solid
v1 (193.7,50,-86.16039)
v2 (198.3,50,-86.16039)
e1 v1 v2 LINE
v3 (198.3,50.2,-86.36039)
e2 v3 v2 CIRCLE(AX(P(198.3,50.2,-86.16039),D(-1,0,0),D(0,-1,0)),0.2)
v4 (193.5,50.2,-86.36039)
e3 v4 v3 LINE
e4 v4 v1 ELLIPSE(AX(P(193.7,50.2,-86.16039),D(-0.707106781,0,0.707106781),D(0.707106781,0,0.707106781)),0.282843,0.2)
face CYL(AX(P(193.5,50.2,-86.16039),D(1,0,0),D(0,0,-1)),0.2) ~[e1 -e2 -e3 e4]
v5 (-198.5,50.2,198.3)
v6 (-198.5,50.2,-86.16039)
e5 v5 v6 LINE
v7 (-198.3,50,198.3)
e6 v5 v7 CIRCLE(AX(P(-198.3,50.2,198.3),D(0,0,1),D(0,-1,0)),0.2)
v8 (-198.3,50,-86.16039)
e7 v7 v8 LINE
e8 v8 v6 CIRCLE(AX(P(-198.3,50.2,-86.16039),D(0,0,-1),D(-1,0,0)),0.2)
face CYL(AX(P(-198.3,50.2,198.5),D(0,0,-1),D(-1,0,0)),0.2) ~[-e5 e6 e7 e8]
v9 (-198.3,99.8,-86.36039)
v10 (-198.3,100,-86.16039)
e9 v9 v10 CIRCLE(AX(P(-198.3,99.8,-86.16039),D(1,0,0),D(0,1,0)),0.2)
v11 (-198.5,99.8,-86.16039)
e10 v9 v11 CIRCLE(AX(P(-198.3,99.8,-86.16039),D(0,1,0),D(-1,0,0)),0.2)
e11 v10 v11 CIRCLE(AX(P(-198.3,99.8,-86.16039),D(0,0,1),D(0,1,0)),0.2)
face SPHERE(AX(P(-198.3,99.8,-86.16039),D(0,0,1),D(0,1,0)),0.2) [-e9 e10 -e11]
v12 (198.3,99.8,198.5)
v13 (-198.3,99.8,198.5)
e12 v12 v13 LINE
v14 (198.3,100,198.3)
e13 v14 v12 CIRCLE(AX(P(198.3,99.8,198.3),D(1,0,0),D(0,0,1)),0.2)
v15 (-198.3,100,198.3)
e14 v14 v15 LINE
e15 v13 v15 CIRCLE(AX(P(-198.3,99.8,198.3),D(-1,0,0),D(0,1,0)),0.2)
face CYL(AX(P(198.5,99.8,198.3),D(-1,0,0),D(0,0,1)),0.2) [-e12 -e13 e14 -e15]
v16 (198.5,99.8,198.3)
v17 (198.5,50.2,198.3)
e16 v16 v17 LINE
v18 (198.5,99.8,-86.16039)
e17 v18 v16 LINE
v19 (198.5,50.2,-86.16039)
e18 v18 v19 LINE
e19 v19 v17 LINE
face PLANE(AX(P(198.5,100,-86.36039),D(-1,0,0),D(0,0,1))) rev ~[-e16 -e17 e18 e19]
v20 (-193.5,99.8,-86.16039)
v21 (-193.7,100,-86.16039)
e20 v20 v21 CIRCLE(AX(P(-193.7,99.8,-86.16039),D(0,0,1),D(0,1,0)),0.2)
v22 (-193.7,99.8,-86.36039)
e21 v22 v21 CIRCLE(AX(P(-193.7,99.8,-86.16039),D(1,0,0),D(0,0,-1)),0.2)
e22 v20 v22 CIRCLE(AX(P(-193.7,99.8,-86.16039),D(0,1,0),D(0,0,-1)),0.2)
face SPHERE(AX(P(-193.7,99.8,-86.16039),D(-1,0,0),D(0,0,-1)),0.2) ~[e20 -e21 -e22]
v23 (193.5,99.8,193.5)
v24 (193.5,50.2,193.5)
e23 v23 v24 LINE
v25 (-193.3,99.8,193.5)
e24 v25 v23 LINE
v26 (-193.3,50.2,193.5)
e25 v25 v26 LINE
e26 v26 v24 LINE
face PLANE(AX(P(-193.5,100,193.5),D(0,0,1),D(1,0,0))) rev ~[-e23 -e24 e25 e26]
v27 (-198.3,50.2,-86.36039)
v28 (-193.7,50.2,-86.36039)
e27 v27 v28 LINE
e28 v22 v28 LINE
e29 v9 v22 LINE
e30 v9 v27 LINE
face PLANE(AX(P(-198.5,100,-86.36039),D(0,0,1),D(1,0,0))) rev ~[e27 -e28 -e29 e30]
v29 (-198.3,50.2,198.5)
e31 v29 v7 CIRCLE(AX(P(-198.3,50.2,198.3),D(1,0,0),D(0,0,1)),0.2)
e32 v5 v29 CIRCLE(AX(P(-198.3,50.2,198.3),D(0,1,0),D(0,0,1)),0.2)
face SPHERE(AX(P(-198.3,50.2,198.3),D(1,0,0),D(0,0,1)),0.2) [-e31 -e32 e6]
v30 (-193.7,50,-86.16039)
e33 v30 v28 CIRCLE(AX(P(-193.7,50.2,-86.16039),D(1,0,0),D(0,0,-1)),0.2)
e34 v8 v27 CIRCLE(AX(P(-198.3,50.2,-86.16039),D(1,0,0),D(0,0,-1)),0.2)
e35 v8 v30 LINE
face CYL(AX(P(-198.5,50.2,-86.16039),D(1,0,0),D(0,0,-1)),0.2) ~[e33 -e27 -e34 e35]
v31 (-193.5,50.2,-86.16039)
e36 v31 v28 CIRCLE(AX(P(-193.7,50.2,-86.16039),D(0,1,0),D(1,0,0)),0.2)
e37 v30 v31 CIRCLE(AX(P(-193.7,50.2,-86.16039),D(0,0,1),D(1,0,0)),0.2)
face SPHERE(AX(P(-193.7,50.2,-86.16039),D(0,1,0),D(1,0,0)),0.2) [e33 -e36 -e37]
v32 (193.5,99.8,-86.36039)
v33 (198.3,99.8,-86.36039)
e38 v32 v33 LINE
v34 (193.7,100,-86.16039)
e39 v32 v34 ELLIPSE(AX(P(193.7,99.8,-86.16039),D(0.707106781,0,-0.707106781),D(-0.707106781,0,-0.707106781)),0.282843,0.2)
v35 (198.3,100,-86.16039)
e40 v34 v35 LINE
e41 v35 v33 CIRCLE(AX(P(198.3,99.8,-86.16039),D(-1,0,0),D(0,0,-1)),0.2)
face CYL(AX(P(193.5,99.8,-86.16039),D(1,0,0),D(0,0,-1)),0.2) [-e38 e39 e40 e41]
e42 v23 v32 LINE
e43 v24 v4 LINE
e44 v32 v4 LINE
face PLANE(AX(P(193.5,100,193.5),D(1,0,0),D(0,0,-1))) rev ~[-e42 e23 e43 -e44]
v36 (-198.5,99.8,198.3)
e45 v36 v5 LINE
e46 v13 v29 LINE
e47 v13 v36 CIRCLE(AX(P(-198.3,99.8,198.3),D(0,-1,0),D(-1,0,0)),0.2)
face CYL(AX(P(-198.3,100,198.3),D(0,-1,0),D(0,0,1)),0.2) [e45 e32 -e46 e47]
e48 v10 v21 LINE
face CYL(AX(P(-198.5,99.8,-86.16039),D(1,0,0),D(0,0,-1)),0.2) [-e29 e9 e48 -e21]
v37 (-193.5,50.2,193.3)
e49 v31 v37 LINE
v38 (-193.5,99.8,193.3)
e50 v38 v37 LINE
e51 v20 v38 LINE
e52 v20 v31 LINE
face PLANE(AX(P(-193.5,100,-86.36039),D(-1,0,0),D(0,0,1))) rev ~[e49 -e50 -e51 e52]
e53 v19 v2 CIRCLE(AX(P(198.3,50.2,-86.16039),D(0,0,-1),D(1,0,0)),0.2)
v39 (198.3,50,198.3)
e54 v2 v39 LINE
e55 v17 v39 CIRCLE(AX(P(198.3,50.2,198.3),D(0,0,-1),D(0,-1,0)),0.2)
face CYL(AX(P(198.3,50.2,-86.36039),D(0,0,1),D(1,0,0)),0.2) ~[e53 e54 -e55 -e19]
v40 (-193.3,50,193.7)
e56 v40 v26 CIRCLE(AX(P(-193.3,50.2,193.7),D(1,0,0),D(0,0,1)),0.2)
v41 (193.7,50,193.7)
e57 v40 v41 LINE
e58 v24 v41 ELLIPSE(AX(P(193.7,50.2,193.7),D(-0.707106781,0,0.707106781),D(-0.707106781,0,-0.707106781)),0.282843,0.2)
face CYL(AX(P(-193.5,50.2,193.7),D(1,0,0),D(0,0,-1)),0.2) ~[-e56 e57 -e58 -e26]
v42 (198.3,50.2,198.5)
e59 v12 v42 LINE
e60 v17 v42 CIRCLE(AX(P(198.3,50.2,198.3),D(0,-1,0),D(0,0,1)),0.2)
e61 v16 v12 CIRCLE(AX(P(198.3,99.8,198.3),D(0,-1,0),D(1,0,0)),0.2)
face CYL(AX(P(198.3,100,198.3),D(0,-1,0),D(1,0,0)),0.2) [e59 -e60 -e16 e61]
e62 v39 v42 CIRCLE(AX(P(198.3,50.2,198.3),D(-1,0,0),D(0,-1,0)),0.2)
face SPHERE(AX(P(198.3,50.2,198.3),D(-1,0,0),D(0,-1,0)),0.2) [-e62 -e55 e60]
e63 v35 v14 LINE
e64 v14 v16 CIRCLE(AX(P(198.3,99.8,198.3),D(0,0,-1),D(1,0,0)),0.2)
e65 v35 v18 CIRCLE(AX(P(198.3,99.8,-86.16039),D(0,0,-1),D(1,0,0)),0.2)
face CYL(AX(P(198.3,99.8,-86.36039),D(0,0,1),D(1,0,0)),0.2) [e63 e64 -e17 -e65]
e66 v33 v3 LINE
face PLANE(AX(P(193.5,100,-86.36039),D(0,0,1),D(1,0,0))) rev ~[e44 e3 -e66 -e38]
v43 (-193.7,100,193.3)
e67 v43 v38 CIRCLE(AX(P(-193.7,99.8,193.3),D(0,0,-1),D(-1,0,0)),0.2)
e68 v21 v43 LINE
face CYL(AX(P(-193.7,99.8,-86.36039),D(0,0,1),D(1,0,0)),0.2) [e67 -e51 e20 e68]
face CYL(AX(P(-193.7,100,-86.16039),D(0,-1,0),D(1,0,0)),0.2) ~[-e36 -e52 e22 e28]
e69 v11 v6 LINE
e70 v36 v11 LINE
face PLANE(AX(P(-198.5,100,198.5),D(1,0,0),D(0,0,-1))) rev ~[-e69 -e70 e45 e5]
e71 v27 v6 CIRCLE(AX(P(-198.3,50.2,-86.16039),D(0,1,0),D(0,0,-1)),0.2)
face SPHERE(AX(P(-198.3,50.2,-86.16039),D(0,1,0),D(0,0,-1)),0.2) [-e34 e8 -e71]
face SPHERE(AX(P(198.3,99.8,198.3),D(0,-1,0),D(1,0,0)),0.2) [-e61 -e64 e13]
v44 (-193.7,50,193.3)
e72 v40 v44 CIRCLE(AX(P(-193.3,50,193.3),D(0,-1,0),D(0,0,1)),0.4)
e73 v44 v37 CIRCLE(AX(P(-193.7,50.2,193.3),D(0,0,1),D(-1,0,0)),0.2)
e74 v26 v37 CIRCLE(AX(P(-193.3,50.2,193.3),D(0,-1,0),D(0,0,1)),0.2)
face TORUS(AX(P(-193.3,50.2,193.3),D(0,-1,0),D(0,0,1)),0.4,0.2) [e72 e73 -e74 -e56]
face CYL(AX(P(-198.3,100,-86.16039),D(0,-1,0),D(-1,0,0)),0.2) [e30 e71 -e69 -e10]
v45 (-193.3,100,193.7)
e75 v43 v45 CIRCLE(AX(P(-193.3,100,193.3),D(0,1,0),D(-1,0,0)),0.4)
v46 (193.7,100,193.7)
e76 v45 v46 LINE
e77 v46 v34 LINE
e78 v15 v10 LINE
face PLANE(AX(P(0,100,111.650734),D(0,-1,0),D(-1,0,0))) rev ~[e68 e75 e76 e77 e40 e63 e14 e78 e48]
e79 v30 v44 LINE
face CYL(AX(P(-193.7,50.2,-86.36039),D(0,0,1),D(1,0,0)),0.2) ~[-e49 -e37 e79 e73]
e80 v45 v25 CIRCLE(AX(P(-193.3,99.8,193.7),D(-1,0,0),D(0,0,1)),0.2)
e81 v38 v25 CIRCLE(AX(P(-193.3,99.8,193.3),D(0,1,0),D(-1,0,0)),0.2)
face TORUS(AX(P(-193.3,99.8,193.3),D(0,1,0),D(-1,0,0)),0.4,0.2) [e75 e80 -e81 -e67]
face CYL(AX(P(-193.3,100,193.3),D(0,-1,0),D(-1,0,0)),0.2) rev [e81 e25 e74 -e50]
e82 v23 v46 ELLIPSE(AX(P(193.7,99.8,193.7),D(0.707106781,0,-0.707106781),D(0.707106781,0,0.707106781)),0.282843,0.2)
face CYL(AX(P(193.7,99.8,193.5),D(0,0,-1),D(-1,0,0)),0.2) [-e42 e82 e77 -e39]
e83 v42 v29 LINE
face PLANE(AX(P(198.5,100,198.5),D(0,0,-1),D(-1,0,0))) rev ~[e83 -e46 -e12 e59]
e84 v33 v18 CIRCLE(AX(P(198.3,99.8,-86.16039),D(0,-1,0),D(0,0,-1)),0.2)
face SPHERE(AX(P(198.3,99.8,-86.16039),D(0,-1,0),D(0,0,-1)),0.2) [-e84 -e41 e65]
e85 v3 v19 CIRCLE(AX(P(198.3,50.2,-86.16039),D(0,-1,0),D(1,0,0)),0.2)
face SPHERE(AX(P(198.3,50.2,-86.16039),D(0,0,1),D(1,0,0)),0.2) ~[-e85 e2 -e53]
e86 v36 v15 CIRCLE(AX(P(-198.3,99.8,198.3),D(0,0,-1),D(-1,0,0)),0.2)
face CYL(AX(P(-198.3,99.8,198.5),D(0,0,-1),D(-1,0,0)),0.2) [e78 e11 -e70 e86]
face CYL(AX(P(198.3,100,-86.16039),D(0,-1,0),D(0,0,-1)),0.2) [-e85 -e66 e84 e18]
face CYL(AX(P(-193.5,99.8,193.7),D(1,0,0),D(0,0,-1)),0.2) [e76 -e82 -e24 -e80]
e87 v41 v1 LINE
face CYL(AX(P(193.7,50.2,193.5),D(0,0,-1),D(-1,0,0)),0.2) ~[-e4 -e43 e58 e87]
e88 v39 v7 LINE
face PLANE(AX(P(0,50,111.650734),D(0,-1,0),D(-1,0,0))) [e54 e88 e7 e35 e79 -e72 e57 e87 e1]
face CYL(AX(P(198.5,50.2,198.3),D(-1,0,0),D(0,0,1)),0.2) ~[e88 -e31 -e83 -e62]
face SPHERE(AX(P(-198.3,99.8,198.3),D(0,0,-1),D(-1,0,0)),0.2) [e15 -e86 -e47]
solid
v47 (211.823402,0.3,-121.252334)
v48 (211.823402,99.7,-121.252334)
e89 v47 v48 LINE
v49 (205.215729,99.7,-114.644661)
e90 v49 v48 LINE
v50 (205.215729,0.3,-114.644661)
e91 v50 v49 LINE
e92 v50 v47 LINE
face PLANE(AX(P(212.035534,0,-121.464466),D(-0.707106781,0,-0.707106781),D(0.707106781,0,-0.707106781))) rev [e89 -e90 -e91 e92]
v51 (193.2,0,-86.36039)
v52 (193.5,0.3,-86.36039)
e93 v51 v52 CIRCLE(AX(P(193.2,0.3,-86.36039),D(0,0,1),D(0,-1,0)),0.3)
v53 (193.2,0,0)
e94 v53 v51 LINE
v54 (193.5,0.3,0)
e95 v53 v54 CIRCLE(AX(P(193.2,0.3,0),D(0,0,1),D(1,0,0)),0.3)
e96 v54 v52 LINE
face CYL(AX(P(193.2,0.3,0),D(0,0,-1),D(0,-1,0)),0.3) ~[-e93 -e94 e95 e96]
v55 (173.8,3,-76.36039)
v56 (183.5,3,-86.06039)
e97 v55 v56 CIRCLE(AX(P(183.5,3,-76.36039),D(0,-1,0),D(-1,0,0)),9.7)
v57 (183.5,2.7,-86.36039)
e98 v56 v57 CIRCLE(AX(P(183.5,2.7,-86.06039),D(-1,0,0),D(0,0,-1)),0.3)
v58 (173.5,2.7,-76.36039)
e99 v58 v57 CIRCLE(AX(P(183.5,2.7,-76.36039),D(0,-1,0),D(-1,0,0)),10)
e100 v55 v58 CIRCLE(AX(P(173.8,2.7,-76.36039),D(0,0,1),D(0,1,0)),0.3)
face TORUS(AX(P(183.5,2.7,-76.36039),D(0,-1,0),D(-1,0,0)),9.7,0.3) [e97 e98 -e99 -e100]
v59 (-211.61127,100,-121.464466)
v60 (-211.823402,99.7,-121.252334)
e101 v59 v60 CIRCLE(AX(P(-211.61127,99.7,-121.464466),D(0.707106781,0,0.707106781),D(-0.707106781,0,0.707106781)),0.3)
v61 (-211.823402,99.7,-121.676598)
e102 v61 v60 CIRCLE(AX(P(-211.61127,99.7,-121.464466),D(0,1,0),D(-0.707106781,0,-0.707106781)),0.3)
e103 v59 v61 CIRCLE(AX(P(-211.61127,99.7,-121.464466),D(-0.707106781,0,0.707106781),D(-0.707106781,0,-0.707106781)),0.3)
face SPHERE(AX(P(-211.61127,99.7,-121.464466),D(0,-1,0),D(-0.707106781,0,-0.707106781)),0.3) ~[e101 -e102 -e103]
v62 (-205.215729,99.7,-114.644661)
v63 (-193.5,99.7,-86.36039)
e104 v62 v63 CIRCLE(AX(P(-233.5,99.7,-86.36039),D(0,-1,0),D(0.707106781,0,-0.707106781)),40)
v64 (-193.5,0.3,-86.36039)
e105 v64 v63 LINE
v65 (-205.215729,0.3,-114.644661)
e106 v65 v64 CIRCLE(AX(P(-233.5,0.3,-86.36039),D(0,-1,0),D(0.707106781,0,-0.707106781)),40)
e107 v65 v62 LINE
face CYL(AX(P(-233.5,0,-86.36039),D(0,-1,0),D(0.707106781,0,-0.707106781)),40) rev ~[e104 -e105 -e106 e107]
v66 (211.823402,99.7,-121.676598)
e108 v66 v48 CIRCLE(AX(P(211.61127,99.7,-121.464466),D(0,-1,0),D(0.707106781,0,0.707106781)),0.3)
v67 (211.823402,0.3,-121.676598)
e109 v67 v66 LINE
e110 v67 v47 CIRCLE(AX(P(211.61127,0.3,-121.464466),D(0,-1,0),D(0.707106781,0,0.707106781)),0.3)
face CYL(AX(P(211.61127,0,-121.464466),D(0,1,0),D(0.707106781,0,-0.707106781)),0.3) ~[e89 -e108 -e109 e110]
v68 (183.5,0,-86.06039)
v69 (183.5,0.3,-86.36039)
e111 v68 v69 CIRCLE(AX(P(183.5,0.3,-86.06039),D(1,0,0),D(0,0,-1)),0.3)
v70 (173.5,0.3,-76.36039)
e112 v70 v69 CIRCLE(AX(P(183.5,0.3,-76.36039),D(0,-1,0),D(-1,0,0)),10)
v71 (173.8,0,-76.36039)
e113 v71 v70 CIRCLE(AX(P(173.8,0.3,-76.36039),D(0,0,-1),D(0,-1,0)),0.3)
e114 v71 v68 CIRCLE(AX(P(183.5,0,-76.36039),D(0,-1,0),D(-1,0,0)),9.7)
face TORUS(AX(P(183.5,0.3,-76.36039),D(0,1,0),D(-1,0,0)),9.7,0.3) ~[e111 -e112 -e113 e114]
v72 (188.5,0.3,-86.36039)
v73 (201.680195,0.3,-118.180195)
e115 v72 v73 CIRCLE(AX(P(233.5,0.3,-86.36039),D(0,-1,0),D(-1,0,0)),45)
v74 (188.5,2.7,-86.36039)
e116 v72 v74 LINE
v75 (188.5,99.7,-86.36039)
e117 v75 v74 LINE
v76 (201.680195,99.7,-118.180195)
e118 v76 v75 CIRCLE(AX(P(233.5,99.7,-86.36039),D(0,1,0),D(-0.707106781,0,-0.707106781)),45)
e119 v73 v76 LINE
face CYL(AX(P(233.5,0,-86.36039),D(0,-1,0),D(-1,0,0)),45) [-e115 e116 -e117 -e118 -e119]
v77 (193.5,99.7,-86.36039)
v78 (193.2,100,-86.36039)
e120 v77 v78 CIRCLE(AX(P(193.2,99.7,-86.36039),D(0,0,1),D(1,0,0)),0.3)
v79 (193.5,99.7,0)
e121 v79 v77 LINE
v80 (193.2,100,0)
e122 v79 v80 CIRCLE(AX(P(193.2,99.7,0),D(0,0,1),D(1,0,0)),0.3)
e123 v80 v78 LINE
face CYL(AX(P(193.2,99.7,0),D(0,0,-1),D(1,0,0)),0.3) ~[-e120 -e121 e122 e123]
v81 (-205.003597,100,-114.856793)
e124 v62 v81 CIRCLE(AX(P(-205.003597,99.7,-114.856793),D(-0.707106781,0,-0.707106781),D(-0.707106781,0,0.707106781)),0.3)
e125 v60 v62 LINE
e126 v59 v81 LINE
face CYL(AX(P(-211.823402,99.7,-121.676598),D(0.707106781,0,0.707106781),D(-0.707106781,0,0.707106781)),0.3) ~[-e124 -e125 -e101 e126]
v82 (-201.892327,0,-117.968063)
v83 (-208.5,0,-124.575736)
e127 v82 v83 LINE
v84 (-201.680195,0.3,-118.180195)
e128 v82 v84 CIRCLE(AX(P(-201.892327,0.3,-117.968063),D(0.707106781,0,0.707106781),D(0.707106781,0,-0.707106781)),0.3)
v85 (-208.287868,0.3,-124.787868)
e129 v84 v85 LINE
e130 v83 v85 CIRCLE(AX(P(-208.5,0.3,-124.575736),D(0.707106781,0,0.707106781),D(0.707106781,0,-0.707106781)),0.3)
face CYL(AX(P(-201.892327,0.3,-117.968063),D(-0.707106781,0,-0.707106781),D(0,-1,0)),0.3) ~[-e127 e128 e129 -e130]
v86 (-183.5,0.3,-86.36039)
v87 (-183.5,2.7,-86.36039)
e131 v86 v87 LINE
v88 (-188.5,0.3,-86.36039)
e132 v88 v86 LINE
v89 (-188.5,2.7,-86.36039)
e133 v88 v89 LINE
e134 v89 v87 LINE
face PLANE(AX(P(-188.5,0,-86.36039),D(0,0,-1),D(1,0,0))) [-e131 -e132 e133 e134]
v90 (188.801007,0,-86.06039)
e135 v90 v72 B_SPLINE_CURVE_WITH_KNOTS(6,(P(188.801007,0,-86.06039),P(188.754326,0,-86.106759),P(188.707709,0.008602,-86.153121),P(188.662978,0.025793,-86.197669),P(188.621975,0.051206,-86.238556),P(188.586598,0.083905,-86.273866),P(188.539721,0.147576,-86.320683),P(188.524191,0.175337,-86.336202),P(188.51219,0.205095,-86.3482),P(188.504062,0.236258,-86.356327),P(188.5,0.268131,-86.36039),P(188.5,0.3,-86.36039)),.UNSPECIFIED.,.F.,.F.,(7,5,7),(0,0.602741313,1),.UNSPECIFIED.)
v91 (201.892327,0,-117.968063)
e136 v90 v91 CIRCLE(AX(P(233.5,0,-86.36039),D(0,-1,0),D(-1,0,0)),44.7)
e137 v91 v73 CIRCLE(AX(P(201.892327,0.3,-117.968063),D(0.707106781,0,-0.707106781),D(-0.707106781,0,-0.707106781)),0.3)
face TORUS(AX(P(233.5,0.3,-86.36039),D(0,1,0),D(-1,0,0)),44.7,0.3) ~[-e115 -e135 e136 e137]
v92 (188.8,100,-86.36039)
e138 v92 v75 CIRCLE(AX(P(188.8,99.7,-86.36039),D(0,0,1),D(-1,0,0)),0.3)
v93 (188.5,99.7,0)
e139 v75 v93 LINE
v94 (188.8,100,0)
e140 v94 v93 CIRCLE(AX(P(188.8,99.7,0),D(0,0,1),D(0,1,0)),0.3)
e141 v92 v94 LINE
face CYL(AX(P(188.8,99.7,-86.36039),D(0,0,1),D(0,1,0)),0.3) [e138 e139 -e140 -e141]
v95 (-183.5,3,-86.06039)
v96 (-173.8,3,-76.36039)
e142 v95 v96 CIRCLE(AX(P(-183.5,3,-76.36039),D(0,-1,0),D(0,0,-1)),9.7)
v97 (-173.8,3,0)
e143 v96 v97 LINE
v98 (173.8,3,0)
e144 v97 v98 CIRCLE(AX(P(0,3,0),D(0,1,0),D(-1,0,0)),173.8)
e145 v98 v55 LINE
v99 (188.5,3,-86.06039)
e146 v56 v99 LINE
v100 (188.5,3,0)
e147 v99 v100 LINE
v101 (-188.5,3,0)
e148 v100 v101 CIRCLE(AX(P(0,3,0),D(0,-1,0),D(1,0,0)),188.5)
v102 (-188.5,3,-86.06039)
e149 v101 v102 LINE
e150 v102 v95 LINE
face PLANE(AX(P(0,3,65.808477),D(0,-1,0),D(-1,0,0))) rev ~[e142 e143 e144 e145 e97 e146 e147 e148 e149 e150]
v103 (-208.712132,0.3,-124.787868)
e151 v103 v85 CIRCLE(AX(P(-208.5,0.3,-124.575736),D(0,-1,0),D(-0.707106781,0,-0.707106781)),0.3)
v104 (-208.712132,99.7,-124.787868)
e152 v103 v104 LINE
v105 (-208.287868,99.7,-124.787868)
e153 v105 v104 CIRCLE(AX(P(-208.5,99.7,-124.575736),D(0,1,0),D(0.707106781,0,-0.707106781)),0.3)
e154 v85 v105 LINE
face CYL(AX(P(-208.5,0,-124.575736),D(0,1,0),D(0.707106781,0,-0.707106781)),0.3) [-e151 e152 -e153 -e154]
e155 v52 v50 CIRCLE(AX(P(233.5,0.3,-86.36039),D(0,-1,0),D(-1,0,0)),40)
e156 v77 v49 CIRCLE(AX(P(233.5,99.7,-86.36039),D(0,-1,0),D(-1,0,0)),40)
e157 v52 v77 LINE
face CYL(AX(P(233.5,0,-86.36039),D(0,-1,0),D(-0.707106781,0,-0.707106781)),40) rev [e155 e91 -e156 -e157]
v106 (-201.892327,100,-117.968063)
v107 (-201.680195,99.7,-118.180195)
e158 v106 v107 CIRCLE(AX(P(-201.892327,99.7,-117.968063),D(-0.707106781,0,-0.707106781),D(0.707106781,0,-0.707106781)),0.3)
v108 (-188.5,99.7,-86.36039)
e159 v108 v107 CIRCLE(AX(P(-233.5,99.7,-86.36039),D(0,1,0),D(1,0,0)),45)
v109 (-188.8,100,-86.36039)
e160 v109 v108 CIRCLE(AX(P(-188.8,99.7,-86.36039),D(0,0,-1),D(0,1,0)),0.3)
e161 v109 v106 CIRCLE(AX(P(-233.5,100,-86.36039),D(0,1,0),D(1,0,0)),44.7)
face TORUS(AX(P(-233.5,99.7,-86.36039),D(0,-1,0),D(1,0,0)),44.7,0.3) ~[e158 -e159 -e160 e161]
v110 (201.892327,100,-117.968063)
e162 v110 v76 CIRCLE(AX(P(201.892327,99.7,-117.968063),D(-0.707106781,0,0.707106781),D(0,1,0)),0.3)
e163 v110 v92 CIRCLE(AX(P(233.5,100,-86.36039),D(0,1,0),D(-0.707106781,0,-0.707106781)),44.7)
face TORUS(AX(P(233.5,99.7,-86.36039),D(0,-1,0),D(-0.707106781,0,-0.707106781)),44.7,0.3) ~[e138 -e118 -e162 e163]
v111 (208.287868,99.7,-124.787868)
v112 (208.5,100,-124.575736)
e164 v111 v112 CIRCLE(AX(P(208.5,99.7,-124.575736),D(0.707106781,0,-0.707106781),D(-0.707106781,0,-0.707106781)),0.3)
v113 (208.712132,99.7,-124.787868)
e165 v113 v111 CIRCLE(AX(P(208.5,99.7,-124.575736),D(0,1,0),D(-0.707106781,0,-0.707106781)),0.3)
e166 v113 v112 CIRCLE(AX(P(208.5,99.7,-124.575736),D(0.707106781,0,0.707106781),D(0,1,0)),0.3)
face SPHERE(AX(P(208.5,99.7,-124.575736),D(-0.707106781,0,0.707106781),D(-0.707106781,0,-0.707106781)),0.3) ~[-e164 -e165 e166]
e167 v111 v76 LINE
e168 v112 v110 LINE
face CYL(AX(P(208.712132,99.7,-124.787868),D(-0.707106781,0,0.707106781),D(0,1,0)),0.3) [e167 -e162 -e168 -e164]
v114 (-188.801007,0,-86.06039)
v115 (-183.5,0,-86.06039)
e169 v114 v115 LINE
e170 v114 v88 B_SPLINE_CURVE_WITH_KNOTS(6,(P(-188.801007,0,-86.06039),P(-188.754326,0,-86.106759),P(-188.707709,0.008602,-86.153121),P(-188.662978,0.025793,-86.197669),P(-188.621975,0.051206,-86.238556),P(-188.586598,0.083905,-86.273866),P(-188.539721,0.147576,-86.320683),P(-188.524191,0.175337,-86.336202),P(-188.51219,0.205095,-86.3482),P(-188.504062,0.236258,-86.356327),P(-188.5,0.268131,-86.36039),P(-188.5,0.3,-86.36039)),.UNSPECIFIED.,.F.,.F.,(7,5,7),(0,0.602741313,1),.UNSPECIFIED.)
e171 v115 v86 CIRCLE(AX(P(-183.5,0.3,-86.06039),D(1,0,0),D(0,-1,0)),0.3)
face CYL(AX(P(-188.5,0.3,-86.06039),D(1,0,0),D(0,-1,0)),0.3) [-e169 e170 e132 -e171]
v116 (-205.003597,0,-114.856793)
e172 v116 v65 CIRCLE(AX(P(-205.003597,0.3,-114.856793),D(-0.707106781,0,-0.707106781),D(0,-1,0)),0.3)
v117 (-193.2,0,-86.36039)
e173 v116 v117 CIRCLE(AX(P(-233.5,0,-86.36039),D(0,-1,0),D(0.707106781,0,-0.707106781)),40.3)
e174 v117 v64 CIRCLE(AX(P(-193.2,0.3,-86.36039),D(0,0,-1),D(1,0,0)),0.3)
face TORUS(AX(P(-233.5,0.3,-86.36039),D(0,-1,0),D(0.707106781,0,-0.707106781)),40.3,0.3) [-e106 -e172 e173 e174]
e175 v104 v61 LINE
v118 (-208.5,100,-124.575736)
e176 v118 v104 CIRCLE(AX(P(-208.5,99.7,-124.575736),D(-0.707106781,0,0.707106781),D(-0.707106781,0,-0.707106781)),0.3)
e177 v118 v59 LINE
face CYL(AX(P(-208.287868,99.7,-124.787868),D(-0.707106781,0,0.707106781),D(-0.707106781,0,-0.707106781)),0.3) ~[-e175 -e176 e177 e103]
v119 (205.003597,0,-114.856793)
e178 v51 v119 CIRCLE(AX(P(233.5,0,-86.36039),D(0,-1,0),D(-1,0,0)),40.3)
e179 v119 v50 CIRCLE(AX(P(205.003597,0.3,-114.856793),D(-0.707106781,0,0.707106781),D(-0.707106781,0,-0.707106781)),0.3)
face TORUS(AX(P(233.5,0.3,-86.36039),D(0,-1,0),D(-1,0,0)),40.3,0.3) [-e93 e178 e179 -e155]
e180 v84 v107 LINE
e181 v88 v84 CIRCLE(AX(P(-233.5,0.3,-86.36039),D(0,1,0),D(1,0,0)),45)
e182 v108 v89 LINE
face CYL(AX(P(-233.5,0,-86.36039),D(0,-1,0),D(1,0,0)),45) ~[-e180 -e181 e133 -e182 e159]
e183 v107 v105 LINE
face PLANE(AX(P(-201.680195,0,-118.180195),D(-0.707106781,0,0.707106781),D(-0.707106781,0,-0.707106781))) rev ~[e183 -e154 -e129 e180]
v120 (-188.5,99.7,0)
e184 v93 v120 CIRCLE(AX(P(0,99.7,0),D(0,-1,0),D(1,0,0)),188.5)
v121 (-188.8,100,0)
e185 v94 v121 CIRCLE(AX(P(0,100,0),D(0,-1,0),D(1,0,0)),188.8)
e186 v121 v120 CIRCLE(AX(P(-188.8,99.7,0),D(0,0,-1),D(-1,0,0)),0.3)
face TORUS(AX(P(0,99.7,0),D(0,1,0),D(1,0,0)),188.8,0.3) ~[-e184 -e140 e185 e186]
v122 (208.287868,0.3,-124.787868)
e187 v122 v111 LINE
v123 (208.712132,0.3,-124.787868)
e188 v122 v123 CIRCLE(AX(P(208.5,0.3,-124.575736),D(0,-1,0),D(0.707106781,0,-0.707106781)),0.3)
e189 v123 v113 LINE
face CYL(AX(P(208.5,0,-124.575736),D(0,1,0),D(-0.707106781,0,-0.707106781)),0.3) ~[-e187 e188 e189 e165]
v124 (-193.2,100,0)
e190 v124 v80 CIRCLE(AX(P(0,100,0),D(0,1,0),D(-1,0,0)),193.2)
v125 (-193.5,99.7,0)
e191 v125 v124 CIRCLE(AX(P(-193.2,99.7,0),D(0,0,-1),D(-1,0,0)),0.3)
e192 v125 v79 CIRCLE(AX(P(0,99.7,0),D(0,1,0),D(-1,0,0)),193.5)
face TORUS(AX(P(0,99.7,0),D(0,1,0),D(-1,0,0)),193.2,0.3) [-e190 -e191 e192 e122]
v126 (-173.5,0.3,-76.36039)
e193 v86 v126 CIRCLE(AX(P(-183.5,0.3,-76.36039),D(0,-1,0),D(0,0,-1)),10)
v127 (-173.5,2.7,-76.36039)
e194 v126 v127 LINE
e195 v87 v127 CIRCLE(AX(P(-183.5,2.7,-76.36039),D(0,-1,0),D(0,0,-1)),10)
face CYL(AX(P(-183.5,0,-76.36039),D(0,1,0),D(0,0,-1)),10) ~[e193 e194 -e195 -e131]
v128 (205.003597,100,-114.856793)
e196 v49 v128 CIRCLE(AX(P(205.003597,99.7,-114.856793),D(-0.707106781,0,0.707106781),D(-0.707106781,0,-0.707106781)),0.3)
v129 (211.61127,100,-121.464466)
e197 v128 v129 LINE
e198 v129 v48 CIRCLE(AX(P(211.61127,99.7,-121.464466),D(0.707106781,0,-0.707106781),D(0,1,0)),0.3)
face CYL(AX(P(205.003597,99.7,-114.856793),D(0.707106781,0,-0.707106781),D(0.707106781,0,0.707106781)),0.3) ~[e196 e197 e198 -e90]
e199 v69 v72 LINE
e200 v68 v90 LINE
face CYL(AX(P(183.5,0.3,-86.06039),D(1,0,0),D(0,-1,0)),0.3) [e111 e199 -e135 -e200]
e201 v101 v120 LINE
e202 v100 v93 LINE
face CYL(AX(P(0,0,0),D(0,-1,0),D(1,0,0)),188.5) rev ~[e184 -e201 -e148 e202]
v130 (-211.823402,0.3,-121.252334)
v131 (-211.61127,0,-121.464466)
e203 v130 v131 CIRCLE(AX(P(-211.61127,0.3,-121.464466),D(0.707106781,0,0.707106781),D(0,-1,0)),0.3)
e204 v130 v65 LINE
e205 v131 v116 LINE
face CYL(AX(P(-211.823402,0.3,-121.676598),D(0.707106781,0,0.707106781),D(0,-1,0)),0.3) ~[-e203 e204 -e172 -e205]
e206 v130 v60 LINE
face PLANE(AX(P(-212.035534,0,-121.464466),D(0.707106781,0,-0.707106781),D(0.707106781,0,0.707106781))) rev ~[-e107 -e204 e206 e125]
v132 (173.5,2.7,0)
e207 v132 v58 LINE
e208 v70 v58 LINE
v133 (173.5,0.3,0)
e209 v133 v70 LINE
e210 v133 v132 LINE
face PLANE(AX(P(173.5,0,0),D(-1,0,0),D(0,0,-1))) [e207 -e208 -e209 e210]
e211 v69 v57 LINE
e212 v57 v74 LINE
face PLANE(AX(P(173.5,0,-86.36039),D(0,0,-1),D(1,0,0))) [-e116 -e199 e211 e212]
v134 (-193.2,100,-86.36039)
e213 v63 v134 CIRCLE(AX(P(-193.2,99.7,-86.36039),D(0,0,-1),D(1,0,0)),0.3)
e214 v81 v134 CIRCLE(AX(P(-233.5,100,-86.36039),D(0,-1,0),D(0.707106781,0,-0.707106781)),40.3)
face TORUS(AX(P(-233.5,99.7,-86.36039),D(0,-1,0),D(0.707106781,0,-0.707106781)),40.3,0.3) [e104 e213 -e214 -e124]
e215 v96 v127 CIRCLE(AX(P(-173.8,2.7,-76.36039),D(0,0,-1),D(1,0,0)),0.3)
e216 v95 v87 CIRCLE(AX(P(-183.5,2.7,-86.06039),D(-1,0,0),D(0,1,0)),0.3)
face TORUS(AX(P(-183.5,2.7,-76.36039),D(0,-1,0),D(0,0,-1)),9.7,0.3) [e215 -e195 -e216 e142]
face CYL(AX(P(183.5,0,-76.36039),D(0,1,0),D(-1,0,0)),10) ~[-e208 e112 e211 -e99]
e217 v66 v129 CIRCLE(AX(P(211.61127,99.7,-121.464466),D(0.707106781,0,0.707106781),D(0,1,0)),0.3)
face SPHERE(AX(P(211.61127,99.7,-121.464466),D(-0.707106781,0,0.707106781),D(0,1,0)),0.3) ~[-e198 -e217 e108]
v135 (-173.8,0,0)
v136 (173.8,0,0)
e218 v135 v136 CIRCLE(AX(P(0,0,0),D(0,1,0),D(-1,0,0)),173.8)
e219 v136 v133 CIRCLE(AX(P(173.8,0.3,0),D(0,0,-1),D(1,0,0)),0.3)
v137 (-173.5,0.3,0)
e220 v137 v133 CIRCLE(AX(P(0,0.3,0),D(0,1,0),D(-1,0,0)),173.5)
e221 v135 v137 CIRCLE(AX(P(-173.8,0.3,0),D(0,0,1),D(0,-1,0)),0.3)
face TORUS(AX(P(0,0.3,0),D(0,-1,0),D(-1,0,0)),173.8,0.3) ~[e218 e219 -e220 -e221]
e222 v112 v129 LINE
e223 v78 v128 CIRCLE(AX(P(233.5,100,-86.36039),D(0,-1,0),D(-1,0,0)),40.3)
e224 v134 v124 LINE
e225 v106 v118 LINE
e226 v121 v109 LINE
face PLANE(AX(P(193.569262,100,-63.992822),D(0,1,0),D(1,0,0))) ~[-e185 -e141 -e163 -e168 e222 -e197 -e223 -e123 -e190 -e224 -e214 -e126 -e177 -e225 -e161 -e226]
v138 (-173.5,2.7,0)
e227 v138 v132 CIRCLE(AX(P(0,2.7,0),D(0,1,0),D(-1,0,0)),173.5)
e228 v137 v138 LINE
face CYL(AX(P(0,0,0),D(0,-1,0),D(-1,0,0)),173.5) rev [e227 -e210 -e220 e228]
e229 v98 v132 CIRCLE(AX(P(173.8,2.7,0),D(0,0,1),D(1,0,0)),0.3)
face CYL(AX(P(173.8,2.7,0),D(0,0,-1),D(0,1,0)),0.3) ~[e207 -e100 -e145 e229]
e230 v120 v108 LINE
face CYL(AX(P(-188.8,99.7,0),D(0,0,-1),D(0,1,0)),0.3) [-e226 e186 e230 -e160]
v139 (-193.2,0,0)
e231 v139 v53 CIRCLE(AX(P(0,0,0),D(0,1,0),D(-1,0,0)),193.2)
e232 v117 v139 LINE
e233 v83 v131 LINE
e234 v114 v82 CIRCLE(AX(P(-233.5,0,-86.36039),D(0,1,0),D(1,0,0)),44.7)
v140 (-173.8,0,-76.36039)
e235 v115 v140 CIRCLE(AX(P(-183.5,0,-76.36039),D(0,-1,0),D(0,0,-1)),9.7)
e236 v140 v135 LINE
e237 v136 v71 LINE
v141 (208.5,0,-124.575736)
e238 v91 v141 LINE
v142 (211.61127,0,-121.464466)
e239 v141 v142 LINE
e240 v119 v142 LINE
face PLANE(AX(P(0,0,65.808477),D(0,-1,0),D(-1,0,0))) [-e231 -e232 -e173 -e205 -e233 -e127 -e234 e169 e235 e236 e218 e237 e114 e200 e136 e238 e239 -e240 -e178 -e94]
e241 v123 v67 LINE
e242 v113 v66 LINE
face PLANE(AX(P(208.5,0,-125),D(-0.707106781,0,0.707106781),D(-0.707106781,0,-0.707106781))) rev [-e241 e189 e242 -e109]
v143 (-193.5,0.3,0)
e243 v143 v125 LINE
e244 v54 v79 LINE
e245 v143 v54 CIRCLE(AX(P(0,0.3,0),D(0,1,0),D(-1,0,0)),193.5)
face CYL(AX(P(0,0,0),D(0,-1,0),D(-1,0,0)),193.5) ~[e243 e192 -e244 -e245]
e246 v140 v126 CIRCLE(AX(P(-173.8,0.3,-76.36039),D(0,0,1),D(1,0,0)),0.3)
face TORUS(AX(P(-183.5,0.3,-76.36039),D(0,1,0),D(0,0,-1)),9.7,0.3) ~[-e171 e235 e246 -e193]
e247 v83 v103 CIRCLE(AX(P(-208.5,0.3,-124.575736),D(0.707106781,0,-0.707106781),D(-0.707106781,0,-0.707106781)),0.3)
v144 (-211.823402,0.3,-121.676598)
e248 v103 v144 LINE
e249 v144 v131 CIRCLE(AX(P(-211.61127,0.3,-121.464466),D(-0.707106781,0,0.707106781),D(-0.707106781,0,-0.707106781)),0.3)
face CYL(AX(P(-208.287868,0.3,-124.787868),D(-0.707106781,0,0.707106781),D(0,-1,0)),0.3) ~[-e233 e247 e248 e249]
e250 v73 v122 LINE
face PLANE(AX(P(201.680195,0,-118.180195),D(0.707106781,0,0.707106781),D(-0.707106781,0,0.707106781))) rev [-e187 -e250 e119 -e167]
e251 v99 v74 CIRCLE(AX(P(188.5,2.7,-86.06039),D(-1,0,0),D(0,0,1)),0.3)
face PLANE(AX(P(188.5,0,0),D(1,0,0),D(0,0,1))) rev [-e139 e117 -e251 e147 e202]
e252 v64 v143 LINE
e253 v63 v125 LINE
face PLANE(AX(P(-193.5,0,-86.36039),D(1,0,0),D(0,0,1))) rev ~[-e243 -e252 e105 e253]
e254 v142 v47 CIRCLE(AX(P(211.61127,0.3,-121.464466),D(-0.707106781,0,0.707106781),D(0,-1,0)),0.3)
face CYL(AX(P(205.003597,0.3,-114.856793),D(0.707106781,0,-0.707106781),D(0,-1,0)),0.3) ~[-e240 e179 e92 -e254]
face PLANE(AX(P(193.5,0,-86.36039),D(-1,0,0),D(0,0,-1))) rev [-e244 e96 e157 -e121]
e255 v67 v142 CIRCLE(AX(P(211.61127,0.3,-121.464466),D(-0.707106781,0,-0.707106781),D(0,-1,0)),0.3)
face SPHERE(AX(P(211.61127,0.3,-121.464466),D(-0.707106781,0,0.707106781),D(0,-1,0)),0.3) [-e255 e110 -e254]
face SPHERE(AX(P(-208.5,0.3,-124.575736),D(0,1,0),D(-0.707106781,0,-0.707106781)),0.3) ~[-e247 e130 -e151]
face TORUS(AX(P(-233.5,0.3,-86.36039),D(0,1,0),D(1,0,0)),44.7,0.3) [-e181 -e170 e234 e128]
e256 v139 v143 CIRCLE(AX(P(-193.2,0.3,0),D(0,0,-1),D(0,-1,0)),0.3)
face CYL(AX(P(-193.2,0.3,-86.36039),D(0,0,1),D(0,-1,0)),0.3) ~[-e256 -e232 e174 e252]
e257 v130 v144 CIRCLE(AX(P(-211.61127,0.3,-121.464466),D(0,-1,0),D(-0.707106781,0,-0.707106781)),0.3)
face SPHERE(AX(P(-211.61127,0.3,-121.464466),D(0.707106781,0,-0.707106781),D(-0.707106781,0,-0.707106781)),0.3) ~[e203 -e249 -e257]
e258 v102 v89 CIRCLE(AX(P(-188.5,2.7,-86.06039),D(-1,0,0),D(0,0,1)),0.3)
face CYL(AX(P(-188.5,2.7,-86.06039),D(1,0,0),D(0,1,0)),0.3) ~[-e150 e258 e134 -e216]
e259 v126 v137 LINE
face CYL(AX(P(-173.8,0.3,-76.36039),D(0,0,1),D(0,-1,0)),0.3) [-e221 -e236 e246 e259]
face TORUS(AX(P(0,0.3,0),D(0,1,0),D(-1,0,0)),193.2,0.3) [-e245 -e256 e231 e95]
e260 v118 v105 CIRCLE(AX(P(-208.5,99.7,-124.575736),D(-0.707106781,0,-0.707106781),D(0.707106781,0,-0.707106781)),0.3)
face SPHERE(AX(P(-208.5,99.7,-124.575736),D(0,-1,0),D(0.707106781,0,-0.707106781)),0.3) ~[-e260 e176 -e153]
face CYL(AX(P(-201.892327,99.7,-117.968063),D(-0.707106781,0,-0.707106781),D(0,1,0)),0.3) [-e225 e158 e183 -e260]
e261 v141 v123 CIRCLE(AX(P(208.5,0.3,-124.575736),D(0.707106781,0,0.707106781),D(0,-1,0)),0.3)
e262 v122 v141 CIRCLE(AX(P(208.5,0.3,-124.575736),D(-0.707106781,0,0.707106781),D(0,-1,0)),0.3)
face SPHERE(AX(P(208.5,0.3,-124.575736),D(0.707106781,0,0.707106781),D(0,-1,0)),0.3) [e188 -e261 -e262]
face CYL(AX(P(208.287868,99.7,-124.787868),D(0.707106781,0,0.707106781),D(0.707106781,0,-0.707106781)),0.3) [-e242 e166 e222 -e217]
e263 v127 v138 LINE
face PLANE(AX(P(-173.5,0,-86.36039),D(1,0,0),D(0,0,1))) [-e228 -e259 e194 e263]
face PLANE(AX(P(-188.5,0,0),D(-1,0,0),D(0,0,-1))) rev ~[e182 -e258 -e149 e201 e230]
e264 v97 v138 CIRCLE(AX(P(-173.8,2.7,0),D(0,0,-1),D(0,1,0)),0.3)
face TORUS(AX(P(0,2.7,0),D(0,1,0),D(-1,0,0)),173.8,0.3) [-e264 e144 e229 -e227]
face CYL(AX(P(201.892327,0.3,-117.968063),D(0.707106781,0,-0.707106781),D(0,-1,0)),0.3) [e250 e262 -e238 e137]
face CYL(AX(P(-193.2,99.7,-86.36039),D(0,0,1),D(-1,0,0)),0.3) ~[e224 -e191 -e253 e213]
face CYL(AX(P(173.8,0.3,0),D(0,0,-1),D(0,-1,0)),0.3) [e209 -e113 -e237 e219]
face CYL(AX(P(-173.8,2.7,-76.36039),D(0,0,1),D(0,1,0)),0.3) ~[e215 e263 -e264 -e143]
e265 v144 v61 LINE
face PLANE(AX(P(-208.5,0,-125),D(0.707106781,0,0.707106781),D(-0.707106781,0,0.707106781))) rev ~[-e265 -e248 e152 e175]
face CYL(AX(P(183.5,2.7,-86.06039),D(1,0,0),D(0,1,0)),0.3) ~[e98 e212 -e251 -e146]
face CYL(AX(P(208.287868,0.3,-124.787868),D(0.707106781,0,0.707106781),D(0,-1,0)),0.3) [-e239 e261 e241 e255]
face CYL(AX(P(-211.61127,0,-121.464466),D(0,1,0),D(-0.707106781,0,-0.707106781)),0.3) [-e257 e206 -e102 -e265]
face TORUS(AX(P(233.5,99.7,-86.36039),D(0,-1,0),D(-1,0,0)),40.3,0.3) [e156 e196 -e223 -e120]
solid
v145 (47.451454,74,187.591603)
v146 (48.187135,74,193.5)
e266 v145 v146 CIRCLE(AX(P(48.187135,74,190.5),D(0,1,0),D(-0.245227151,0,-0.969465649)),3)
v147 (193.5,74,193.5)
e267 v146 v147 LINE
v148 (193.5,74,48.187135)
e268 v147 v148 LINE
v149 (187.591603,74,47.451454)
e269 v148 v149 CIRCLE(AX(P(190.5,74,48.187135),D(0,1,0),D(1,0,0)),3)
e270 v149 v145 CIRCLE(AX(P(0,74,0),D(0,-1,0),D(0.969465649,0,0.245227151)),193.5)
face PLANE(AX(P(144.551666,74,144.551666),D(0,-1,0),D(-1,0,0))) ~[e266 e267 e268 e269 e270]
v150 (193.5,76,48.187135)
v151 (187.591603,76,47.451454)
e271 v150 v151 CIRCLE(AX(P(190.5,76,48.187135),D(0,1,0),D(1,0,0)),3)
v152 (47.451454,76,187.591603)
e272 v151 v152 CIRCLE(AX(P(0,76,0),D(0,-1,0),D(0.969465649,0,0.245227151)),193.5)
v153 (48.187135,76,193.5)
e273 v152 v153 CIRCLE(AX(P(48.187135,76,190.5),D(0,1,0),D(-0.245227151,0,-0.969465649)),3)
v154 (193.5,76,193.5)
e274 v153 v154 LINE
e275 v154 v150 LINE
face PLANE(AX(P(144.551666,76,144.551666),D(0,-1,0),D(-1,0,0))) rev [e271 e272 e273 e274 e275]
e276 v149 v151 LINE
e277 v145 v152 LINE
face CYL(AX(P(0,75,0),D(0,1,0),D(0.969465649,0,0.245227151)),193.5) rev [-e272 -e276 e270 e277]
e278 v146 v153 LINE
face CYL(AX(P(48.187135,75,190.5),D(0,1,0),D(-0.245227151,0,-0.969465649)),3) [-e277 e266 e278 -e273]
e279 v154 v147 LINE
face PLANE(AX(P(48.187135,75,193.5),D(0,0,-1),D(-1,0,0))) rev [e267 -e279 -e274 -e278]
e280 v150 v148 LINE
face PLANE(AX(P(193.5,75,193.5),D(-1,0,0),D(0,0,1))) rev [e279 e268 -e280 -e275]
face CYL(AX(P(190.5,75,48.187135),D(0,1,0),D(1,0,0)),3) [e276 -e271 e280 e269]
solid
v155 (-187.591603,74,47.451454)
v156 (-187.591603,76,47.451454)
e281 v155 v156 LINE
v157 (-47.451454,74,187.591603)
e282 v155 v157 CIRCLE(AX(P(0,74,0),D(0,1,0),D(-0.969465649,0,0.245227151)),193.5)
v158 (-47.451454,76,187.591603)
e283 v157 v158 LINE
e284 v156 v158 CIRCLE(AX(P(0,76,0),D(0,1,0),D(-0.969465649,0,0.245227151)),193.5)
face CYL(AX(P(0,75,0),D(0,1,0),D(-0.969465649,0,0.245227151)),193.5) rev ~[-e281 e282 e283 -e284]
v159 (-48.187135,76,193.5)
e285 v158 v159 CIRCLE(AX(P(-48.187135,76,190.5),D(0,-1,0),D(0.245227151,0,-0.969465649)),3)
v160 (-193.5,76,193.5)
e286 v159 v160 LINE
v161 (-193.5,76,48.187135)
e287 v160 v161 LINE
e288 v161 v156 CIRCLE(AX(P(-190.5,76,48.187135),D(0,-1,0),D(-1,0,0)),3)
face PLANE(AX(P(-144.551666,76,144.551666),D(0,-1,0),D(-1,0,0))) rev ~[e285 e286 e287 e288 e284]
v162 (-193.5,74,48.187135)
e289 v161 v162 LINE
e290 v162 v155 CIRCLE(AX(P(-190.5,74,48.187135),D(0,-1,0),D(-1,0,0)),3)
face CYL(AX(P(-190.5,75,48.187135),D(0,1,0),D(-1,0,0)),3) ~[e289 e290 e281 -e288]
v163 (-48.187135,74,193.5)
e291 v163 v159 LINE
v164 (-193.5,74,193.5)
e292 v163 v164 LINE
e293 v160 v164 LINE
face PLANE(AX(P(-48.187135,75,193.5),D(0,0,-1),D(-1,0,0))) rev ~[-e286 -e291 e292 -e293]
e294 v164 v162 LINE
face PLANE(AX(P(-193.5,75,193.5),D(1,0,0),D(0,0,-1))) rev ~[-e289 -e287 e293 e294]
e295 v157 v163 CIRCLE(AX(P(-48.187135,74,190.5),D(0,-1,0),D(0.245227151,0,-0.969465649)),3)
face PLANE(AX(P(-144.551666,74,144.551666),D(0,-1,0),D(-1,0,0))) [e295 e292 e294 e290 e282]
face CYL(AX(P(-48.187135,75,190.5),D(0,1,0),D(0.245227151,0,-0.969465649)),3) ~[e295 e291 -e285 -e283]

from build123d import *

# Parameters (mm, degrees)
BOSS_EXTRUDE1_DEPTH  = 100
BOSS_EXTRUDE2_DEPTH  = 100
BOSS_EXTRUDE3_DEPTH  = 3
FILLET1_R            = 10
BOSS_EXTRUDE4_DEPTH  = 50
BOSS_EXTRUDE10_DEPTH = 1
FILLET2_R            = 0.3
FILLET3_R            = 0.2


with BuildPart() as part:
    # Sketch1 → Boss-Extrude1 (new body)
    with BuildSketch(Plane(origin=(0, 0, 0), x_dir=(1, 0, 0), z_dir=(0, 1, 0))):
        with BuildLine():
            Line((193.5, 0), (188.5, 0))
            ThreePointArc((188.5, 0), (0, -188.5), (-188.5, 0))
            Line((-188.5, 0), (-193.5, 0))
            ThreePointArc((-193.5, 0), (0, -193.5), (193.5, 0))
        make_face()
    extrude(amount=BOSS_EXTRUDE1_DEPTH)

    # Sketch2 → Boss-Extrude2 (add)
    with BuildSketch(Plane(origin=(0, 0, 0), x_dir=(1, 0, 0), z_dir=(0, 1, 0))):
        with BuildLine():
            Line((-212.035533906, 121.464466094), (-205.215728753, 114.644660941))
            ThreePointArc((-205.215728753, 114.644660941), (-196.5448187, 101.667726988), (-193.5, 86.360389693))
            Line((-193.5, 86.360389693), (-193.5, 0))
            Line((-193.5, 0), (-188.5, 0))
            Line((-188.5, 0), (-188.5, 86.360389693))
            ThreePointArc((-188.5, 86.360389693), (-191.925421037, 103.58114415), (-201.680194847, 118.180194847))
            Line((-201.680194847, 118.180194847), (-208.5, 125))
            Line((-208.5, 125), (-212.035533906, 121.464466094))
        make_face()
    boss_extrude2 = extrude(amount=BOSS_EXTRUDE2_DEPTH)

    # Mirror1: Boss-Extrude2 across plane
    add(boss_extrude2.mirror(Plane(origin=(0, 0, 0), x_dir=(0, 0, 1), z_dir=(1, 0, 0))))

    # Sketch3 → Boss-Extrude3 (add)
    with BuildSketch(Plane(origin=(0, 0, 0), x_dir=(1, 0, 0), z_dir=(0, 1, 0))):
        with BuildLine():
            Line((-188.5, 0), (-188.5, 86.360389693))
            Line((-188.5, 86.360389693), (-173.5, 86.360389693))
            Line((-173.5, 86.360389693), (-173.5, 0))
            ThreePointArc((-173.5, 0), (0, -173.5), (173.5, 0))
            Line((173.5, 0), (173.5, 86.360389693))
            Line((173.5, 86.360389693), (188.5, 86.360389693))
            Line((188.5, 86.360389693), (188.5, 0))
            ThreePointArc((188.5, 0), (0, -188.5), (-188.5, 0))
        make_face()
    extrude(amount=BOSS_EXTRUDE3_DEPTH)

    # Fillet1
    fillet1_edges = [part.edges().sort_by_distance(p)[0] for p in [
        (-173.5, 1.5, -86.360389693),
        (173.5, 1.5, -86.360389693),
    ]]
    fillet(fillet1_edges, radius=FILLET1_R)

    # Fillet2
    fillet2_edges = [part.edges().sort_by_distance(p)[0] for p in [
        (-208.5, 50, -125),
        (-210.267766953, 0, -123.232233047),
        (-212.035533906, 50, -121.464466094),
        (-208.625631329, 0, -118.054563517),
        (-196.5448187, 0, -101.667726988),
        (-193.5, 0, -43.180194847),
        (0, 100, 188.5),
        (-191.925421037, 0, -103.58114415),
        (-205.090097423, 0, -121.590097423),
        (-205.090097423, 100, -121.590097423),
        (-210.267766953, 100, -123.232233047),
        (-208.625631329, 100, -118.054563517),
        (-196.5448187, 100, -101.667726988),
        (-193.5, 100, -43.180194847),
        (-188.5, 100, -43.180194847),
        (-191.925421037, 100, -103.58114415),
        (210.267766953, 0, -123.232233047),
        (208.625631329, 0, -118.054563517),
        (196.5448187, 0, -101.667726988),
        (193.5, 0, -43.180194847),
        (191.925421037, 0, -103.58114415),
        (205.090097423, 0, -121.590097423),
        (208.625631329, 100, -118.054563517),
        (196.5448187, 100, -101.667726988),
        (193.5, 100, -43.180194847),
        (188.5, 100, -43.180194847),
        (191.925421037, 100, -103.58114415),
        (205.090097423, 100, -121.590097423),
        (208.5, 50, -125),
        (210.267766953, 100, -123.232233047),
        (212.035533906, 50, -121.464466094),
        (186, 0, -86.360389693),
        (0, 0, 173.5),
        (-173.5, 0, -38.180194847),
        (186, 3, -86.360389693),
        (0, 3, 173.5),
        (-173.5, 3, -38.180194847),
        (0, 0, 193.5),
        (-186, 0, -86.360389693),
        (-186, 3, -86.360389693),
        (173.5, 0, -38.180194847),
        (176.428932188, 0, -83.431457505),
        (-176.428932188, 0, -83.431457505),
        (173.5, 3, -38.180194847),
        (176.428932188, 3, -83.431457505),
        (-176.428932188, 3, -83.431457505),
        (0, 100, 193.5),
    ]]
    fillet(fillet2_edges, radius=FILLET2_R)


with BuildPart() as body_2:
    # Sketch4 → Boss-Extrude4 (new body)
    with BuildSketch(Plane(origin=(0, 100, 0), x_dir=(1, 0, 0), z_dir=(0, 1, 0))):
        Polygon((-193.5, 86.360389693), (-193.5, -193.5), (193.5, -193.5), (193.5, 86.360389693), (198.5, 86.360389693), (198.5, -198.5), (-198.5, -198.5), (-198.5, 86.360389693), align=None)
    extrude(amount=-BOSS_EXTRUDE4_DEPTH)

    # Fillet3
    fillet3_edges = [body_2.edges().sort_by_distance(p)[0] for p in [
        (0, 50, 198.5),
        (-198.5, 100, 56.069805153),
        (-196, 100, -86.360389693),
        (198.5, 50, 56.069805153),
        (-193.5, 75, -86.360389693),
        (-193.5, 75, 193.5),
        (198.5, 75, -86.360389693),
        (198.5, 75, 198.5),
        (-198.5, 75, 198.5),
        (-198.5, 75, -86.360389693),
        (196, 50, -86.360389693),
        (193.5, 50, 53.569805153),
        (0, 50, 193.5),
        (-193.5, 50, 53.569805153),
        (-196, 50, -86.360389693),
        (-198.5, 50, 56.069805153),
        (-193.5, 100, 53.569805153),
        (0, 100, 193.5),
        (193.5, 100, 53.569805153),
        (196, 100, -86.360389693),
        (198.5, 100, 56.069805153),
        (0, 100, 198.5),
    ]]
    fillet(fillet3_edges, radius=FILLET3_R)


with BuildPart() as body_3:
    # Sketch6 → Boss-Extrude10 (new, symmetric)
    with BuildSketch(Plane(origin=(0, 75, 0), x_dir=(1, 0, 0), z_dir=(0, 1, 0))):
        with BuildLine():
            Line((-48.187135213, -193.5), (-193.5, -193.5))
            Line((-193.5, -193.5), (-193.5, -48.187135213))
            ThreePointArc((-193.5, -48.187135213), (-190.870681238, -45.210124057), (-187.591603053, -47.451453759))
            ThreePointArc((-187.591603053, -47.451453759), (-136.82516216, -136.82516216), (-47.451453759, -187.591603053))
            ThreePointArc((-47.451453759, -187.591603053), (-45.210124057, -190.870681238), (-48.187135213, -193.5))
        make_face()
    extrude(amount=BOSS_EXTRUDE10_DEPTH, both=True)


with BuildPart() as body_4:
    # Mirror3: mirrored copy
    add(body_3.part.mirror(Plane(origin=(0, 0, 0), x_dir=(0, 0, 1), z_dir=(1, 0, 0))))


solid = Compound([part.part, body_2.part, body_3.part, body_4.part])
